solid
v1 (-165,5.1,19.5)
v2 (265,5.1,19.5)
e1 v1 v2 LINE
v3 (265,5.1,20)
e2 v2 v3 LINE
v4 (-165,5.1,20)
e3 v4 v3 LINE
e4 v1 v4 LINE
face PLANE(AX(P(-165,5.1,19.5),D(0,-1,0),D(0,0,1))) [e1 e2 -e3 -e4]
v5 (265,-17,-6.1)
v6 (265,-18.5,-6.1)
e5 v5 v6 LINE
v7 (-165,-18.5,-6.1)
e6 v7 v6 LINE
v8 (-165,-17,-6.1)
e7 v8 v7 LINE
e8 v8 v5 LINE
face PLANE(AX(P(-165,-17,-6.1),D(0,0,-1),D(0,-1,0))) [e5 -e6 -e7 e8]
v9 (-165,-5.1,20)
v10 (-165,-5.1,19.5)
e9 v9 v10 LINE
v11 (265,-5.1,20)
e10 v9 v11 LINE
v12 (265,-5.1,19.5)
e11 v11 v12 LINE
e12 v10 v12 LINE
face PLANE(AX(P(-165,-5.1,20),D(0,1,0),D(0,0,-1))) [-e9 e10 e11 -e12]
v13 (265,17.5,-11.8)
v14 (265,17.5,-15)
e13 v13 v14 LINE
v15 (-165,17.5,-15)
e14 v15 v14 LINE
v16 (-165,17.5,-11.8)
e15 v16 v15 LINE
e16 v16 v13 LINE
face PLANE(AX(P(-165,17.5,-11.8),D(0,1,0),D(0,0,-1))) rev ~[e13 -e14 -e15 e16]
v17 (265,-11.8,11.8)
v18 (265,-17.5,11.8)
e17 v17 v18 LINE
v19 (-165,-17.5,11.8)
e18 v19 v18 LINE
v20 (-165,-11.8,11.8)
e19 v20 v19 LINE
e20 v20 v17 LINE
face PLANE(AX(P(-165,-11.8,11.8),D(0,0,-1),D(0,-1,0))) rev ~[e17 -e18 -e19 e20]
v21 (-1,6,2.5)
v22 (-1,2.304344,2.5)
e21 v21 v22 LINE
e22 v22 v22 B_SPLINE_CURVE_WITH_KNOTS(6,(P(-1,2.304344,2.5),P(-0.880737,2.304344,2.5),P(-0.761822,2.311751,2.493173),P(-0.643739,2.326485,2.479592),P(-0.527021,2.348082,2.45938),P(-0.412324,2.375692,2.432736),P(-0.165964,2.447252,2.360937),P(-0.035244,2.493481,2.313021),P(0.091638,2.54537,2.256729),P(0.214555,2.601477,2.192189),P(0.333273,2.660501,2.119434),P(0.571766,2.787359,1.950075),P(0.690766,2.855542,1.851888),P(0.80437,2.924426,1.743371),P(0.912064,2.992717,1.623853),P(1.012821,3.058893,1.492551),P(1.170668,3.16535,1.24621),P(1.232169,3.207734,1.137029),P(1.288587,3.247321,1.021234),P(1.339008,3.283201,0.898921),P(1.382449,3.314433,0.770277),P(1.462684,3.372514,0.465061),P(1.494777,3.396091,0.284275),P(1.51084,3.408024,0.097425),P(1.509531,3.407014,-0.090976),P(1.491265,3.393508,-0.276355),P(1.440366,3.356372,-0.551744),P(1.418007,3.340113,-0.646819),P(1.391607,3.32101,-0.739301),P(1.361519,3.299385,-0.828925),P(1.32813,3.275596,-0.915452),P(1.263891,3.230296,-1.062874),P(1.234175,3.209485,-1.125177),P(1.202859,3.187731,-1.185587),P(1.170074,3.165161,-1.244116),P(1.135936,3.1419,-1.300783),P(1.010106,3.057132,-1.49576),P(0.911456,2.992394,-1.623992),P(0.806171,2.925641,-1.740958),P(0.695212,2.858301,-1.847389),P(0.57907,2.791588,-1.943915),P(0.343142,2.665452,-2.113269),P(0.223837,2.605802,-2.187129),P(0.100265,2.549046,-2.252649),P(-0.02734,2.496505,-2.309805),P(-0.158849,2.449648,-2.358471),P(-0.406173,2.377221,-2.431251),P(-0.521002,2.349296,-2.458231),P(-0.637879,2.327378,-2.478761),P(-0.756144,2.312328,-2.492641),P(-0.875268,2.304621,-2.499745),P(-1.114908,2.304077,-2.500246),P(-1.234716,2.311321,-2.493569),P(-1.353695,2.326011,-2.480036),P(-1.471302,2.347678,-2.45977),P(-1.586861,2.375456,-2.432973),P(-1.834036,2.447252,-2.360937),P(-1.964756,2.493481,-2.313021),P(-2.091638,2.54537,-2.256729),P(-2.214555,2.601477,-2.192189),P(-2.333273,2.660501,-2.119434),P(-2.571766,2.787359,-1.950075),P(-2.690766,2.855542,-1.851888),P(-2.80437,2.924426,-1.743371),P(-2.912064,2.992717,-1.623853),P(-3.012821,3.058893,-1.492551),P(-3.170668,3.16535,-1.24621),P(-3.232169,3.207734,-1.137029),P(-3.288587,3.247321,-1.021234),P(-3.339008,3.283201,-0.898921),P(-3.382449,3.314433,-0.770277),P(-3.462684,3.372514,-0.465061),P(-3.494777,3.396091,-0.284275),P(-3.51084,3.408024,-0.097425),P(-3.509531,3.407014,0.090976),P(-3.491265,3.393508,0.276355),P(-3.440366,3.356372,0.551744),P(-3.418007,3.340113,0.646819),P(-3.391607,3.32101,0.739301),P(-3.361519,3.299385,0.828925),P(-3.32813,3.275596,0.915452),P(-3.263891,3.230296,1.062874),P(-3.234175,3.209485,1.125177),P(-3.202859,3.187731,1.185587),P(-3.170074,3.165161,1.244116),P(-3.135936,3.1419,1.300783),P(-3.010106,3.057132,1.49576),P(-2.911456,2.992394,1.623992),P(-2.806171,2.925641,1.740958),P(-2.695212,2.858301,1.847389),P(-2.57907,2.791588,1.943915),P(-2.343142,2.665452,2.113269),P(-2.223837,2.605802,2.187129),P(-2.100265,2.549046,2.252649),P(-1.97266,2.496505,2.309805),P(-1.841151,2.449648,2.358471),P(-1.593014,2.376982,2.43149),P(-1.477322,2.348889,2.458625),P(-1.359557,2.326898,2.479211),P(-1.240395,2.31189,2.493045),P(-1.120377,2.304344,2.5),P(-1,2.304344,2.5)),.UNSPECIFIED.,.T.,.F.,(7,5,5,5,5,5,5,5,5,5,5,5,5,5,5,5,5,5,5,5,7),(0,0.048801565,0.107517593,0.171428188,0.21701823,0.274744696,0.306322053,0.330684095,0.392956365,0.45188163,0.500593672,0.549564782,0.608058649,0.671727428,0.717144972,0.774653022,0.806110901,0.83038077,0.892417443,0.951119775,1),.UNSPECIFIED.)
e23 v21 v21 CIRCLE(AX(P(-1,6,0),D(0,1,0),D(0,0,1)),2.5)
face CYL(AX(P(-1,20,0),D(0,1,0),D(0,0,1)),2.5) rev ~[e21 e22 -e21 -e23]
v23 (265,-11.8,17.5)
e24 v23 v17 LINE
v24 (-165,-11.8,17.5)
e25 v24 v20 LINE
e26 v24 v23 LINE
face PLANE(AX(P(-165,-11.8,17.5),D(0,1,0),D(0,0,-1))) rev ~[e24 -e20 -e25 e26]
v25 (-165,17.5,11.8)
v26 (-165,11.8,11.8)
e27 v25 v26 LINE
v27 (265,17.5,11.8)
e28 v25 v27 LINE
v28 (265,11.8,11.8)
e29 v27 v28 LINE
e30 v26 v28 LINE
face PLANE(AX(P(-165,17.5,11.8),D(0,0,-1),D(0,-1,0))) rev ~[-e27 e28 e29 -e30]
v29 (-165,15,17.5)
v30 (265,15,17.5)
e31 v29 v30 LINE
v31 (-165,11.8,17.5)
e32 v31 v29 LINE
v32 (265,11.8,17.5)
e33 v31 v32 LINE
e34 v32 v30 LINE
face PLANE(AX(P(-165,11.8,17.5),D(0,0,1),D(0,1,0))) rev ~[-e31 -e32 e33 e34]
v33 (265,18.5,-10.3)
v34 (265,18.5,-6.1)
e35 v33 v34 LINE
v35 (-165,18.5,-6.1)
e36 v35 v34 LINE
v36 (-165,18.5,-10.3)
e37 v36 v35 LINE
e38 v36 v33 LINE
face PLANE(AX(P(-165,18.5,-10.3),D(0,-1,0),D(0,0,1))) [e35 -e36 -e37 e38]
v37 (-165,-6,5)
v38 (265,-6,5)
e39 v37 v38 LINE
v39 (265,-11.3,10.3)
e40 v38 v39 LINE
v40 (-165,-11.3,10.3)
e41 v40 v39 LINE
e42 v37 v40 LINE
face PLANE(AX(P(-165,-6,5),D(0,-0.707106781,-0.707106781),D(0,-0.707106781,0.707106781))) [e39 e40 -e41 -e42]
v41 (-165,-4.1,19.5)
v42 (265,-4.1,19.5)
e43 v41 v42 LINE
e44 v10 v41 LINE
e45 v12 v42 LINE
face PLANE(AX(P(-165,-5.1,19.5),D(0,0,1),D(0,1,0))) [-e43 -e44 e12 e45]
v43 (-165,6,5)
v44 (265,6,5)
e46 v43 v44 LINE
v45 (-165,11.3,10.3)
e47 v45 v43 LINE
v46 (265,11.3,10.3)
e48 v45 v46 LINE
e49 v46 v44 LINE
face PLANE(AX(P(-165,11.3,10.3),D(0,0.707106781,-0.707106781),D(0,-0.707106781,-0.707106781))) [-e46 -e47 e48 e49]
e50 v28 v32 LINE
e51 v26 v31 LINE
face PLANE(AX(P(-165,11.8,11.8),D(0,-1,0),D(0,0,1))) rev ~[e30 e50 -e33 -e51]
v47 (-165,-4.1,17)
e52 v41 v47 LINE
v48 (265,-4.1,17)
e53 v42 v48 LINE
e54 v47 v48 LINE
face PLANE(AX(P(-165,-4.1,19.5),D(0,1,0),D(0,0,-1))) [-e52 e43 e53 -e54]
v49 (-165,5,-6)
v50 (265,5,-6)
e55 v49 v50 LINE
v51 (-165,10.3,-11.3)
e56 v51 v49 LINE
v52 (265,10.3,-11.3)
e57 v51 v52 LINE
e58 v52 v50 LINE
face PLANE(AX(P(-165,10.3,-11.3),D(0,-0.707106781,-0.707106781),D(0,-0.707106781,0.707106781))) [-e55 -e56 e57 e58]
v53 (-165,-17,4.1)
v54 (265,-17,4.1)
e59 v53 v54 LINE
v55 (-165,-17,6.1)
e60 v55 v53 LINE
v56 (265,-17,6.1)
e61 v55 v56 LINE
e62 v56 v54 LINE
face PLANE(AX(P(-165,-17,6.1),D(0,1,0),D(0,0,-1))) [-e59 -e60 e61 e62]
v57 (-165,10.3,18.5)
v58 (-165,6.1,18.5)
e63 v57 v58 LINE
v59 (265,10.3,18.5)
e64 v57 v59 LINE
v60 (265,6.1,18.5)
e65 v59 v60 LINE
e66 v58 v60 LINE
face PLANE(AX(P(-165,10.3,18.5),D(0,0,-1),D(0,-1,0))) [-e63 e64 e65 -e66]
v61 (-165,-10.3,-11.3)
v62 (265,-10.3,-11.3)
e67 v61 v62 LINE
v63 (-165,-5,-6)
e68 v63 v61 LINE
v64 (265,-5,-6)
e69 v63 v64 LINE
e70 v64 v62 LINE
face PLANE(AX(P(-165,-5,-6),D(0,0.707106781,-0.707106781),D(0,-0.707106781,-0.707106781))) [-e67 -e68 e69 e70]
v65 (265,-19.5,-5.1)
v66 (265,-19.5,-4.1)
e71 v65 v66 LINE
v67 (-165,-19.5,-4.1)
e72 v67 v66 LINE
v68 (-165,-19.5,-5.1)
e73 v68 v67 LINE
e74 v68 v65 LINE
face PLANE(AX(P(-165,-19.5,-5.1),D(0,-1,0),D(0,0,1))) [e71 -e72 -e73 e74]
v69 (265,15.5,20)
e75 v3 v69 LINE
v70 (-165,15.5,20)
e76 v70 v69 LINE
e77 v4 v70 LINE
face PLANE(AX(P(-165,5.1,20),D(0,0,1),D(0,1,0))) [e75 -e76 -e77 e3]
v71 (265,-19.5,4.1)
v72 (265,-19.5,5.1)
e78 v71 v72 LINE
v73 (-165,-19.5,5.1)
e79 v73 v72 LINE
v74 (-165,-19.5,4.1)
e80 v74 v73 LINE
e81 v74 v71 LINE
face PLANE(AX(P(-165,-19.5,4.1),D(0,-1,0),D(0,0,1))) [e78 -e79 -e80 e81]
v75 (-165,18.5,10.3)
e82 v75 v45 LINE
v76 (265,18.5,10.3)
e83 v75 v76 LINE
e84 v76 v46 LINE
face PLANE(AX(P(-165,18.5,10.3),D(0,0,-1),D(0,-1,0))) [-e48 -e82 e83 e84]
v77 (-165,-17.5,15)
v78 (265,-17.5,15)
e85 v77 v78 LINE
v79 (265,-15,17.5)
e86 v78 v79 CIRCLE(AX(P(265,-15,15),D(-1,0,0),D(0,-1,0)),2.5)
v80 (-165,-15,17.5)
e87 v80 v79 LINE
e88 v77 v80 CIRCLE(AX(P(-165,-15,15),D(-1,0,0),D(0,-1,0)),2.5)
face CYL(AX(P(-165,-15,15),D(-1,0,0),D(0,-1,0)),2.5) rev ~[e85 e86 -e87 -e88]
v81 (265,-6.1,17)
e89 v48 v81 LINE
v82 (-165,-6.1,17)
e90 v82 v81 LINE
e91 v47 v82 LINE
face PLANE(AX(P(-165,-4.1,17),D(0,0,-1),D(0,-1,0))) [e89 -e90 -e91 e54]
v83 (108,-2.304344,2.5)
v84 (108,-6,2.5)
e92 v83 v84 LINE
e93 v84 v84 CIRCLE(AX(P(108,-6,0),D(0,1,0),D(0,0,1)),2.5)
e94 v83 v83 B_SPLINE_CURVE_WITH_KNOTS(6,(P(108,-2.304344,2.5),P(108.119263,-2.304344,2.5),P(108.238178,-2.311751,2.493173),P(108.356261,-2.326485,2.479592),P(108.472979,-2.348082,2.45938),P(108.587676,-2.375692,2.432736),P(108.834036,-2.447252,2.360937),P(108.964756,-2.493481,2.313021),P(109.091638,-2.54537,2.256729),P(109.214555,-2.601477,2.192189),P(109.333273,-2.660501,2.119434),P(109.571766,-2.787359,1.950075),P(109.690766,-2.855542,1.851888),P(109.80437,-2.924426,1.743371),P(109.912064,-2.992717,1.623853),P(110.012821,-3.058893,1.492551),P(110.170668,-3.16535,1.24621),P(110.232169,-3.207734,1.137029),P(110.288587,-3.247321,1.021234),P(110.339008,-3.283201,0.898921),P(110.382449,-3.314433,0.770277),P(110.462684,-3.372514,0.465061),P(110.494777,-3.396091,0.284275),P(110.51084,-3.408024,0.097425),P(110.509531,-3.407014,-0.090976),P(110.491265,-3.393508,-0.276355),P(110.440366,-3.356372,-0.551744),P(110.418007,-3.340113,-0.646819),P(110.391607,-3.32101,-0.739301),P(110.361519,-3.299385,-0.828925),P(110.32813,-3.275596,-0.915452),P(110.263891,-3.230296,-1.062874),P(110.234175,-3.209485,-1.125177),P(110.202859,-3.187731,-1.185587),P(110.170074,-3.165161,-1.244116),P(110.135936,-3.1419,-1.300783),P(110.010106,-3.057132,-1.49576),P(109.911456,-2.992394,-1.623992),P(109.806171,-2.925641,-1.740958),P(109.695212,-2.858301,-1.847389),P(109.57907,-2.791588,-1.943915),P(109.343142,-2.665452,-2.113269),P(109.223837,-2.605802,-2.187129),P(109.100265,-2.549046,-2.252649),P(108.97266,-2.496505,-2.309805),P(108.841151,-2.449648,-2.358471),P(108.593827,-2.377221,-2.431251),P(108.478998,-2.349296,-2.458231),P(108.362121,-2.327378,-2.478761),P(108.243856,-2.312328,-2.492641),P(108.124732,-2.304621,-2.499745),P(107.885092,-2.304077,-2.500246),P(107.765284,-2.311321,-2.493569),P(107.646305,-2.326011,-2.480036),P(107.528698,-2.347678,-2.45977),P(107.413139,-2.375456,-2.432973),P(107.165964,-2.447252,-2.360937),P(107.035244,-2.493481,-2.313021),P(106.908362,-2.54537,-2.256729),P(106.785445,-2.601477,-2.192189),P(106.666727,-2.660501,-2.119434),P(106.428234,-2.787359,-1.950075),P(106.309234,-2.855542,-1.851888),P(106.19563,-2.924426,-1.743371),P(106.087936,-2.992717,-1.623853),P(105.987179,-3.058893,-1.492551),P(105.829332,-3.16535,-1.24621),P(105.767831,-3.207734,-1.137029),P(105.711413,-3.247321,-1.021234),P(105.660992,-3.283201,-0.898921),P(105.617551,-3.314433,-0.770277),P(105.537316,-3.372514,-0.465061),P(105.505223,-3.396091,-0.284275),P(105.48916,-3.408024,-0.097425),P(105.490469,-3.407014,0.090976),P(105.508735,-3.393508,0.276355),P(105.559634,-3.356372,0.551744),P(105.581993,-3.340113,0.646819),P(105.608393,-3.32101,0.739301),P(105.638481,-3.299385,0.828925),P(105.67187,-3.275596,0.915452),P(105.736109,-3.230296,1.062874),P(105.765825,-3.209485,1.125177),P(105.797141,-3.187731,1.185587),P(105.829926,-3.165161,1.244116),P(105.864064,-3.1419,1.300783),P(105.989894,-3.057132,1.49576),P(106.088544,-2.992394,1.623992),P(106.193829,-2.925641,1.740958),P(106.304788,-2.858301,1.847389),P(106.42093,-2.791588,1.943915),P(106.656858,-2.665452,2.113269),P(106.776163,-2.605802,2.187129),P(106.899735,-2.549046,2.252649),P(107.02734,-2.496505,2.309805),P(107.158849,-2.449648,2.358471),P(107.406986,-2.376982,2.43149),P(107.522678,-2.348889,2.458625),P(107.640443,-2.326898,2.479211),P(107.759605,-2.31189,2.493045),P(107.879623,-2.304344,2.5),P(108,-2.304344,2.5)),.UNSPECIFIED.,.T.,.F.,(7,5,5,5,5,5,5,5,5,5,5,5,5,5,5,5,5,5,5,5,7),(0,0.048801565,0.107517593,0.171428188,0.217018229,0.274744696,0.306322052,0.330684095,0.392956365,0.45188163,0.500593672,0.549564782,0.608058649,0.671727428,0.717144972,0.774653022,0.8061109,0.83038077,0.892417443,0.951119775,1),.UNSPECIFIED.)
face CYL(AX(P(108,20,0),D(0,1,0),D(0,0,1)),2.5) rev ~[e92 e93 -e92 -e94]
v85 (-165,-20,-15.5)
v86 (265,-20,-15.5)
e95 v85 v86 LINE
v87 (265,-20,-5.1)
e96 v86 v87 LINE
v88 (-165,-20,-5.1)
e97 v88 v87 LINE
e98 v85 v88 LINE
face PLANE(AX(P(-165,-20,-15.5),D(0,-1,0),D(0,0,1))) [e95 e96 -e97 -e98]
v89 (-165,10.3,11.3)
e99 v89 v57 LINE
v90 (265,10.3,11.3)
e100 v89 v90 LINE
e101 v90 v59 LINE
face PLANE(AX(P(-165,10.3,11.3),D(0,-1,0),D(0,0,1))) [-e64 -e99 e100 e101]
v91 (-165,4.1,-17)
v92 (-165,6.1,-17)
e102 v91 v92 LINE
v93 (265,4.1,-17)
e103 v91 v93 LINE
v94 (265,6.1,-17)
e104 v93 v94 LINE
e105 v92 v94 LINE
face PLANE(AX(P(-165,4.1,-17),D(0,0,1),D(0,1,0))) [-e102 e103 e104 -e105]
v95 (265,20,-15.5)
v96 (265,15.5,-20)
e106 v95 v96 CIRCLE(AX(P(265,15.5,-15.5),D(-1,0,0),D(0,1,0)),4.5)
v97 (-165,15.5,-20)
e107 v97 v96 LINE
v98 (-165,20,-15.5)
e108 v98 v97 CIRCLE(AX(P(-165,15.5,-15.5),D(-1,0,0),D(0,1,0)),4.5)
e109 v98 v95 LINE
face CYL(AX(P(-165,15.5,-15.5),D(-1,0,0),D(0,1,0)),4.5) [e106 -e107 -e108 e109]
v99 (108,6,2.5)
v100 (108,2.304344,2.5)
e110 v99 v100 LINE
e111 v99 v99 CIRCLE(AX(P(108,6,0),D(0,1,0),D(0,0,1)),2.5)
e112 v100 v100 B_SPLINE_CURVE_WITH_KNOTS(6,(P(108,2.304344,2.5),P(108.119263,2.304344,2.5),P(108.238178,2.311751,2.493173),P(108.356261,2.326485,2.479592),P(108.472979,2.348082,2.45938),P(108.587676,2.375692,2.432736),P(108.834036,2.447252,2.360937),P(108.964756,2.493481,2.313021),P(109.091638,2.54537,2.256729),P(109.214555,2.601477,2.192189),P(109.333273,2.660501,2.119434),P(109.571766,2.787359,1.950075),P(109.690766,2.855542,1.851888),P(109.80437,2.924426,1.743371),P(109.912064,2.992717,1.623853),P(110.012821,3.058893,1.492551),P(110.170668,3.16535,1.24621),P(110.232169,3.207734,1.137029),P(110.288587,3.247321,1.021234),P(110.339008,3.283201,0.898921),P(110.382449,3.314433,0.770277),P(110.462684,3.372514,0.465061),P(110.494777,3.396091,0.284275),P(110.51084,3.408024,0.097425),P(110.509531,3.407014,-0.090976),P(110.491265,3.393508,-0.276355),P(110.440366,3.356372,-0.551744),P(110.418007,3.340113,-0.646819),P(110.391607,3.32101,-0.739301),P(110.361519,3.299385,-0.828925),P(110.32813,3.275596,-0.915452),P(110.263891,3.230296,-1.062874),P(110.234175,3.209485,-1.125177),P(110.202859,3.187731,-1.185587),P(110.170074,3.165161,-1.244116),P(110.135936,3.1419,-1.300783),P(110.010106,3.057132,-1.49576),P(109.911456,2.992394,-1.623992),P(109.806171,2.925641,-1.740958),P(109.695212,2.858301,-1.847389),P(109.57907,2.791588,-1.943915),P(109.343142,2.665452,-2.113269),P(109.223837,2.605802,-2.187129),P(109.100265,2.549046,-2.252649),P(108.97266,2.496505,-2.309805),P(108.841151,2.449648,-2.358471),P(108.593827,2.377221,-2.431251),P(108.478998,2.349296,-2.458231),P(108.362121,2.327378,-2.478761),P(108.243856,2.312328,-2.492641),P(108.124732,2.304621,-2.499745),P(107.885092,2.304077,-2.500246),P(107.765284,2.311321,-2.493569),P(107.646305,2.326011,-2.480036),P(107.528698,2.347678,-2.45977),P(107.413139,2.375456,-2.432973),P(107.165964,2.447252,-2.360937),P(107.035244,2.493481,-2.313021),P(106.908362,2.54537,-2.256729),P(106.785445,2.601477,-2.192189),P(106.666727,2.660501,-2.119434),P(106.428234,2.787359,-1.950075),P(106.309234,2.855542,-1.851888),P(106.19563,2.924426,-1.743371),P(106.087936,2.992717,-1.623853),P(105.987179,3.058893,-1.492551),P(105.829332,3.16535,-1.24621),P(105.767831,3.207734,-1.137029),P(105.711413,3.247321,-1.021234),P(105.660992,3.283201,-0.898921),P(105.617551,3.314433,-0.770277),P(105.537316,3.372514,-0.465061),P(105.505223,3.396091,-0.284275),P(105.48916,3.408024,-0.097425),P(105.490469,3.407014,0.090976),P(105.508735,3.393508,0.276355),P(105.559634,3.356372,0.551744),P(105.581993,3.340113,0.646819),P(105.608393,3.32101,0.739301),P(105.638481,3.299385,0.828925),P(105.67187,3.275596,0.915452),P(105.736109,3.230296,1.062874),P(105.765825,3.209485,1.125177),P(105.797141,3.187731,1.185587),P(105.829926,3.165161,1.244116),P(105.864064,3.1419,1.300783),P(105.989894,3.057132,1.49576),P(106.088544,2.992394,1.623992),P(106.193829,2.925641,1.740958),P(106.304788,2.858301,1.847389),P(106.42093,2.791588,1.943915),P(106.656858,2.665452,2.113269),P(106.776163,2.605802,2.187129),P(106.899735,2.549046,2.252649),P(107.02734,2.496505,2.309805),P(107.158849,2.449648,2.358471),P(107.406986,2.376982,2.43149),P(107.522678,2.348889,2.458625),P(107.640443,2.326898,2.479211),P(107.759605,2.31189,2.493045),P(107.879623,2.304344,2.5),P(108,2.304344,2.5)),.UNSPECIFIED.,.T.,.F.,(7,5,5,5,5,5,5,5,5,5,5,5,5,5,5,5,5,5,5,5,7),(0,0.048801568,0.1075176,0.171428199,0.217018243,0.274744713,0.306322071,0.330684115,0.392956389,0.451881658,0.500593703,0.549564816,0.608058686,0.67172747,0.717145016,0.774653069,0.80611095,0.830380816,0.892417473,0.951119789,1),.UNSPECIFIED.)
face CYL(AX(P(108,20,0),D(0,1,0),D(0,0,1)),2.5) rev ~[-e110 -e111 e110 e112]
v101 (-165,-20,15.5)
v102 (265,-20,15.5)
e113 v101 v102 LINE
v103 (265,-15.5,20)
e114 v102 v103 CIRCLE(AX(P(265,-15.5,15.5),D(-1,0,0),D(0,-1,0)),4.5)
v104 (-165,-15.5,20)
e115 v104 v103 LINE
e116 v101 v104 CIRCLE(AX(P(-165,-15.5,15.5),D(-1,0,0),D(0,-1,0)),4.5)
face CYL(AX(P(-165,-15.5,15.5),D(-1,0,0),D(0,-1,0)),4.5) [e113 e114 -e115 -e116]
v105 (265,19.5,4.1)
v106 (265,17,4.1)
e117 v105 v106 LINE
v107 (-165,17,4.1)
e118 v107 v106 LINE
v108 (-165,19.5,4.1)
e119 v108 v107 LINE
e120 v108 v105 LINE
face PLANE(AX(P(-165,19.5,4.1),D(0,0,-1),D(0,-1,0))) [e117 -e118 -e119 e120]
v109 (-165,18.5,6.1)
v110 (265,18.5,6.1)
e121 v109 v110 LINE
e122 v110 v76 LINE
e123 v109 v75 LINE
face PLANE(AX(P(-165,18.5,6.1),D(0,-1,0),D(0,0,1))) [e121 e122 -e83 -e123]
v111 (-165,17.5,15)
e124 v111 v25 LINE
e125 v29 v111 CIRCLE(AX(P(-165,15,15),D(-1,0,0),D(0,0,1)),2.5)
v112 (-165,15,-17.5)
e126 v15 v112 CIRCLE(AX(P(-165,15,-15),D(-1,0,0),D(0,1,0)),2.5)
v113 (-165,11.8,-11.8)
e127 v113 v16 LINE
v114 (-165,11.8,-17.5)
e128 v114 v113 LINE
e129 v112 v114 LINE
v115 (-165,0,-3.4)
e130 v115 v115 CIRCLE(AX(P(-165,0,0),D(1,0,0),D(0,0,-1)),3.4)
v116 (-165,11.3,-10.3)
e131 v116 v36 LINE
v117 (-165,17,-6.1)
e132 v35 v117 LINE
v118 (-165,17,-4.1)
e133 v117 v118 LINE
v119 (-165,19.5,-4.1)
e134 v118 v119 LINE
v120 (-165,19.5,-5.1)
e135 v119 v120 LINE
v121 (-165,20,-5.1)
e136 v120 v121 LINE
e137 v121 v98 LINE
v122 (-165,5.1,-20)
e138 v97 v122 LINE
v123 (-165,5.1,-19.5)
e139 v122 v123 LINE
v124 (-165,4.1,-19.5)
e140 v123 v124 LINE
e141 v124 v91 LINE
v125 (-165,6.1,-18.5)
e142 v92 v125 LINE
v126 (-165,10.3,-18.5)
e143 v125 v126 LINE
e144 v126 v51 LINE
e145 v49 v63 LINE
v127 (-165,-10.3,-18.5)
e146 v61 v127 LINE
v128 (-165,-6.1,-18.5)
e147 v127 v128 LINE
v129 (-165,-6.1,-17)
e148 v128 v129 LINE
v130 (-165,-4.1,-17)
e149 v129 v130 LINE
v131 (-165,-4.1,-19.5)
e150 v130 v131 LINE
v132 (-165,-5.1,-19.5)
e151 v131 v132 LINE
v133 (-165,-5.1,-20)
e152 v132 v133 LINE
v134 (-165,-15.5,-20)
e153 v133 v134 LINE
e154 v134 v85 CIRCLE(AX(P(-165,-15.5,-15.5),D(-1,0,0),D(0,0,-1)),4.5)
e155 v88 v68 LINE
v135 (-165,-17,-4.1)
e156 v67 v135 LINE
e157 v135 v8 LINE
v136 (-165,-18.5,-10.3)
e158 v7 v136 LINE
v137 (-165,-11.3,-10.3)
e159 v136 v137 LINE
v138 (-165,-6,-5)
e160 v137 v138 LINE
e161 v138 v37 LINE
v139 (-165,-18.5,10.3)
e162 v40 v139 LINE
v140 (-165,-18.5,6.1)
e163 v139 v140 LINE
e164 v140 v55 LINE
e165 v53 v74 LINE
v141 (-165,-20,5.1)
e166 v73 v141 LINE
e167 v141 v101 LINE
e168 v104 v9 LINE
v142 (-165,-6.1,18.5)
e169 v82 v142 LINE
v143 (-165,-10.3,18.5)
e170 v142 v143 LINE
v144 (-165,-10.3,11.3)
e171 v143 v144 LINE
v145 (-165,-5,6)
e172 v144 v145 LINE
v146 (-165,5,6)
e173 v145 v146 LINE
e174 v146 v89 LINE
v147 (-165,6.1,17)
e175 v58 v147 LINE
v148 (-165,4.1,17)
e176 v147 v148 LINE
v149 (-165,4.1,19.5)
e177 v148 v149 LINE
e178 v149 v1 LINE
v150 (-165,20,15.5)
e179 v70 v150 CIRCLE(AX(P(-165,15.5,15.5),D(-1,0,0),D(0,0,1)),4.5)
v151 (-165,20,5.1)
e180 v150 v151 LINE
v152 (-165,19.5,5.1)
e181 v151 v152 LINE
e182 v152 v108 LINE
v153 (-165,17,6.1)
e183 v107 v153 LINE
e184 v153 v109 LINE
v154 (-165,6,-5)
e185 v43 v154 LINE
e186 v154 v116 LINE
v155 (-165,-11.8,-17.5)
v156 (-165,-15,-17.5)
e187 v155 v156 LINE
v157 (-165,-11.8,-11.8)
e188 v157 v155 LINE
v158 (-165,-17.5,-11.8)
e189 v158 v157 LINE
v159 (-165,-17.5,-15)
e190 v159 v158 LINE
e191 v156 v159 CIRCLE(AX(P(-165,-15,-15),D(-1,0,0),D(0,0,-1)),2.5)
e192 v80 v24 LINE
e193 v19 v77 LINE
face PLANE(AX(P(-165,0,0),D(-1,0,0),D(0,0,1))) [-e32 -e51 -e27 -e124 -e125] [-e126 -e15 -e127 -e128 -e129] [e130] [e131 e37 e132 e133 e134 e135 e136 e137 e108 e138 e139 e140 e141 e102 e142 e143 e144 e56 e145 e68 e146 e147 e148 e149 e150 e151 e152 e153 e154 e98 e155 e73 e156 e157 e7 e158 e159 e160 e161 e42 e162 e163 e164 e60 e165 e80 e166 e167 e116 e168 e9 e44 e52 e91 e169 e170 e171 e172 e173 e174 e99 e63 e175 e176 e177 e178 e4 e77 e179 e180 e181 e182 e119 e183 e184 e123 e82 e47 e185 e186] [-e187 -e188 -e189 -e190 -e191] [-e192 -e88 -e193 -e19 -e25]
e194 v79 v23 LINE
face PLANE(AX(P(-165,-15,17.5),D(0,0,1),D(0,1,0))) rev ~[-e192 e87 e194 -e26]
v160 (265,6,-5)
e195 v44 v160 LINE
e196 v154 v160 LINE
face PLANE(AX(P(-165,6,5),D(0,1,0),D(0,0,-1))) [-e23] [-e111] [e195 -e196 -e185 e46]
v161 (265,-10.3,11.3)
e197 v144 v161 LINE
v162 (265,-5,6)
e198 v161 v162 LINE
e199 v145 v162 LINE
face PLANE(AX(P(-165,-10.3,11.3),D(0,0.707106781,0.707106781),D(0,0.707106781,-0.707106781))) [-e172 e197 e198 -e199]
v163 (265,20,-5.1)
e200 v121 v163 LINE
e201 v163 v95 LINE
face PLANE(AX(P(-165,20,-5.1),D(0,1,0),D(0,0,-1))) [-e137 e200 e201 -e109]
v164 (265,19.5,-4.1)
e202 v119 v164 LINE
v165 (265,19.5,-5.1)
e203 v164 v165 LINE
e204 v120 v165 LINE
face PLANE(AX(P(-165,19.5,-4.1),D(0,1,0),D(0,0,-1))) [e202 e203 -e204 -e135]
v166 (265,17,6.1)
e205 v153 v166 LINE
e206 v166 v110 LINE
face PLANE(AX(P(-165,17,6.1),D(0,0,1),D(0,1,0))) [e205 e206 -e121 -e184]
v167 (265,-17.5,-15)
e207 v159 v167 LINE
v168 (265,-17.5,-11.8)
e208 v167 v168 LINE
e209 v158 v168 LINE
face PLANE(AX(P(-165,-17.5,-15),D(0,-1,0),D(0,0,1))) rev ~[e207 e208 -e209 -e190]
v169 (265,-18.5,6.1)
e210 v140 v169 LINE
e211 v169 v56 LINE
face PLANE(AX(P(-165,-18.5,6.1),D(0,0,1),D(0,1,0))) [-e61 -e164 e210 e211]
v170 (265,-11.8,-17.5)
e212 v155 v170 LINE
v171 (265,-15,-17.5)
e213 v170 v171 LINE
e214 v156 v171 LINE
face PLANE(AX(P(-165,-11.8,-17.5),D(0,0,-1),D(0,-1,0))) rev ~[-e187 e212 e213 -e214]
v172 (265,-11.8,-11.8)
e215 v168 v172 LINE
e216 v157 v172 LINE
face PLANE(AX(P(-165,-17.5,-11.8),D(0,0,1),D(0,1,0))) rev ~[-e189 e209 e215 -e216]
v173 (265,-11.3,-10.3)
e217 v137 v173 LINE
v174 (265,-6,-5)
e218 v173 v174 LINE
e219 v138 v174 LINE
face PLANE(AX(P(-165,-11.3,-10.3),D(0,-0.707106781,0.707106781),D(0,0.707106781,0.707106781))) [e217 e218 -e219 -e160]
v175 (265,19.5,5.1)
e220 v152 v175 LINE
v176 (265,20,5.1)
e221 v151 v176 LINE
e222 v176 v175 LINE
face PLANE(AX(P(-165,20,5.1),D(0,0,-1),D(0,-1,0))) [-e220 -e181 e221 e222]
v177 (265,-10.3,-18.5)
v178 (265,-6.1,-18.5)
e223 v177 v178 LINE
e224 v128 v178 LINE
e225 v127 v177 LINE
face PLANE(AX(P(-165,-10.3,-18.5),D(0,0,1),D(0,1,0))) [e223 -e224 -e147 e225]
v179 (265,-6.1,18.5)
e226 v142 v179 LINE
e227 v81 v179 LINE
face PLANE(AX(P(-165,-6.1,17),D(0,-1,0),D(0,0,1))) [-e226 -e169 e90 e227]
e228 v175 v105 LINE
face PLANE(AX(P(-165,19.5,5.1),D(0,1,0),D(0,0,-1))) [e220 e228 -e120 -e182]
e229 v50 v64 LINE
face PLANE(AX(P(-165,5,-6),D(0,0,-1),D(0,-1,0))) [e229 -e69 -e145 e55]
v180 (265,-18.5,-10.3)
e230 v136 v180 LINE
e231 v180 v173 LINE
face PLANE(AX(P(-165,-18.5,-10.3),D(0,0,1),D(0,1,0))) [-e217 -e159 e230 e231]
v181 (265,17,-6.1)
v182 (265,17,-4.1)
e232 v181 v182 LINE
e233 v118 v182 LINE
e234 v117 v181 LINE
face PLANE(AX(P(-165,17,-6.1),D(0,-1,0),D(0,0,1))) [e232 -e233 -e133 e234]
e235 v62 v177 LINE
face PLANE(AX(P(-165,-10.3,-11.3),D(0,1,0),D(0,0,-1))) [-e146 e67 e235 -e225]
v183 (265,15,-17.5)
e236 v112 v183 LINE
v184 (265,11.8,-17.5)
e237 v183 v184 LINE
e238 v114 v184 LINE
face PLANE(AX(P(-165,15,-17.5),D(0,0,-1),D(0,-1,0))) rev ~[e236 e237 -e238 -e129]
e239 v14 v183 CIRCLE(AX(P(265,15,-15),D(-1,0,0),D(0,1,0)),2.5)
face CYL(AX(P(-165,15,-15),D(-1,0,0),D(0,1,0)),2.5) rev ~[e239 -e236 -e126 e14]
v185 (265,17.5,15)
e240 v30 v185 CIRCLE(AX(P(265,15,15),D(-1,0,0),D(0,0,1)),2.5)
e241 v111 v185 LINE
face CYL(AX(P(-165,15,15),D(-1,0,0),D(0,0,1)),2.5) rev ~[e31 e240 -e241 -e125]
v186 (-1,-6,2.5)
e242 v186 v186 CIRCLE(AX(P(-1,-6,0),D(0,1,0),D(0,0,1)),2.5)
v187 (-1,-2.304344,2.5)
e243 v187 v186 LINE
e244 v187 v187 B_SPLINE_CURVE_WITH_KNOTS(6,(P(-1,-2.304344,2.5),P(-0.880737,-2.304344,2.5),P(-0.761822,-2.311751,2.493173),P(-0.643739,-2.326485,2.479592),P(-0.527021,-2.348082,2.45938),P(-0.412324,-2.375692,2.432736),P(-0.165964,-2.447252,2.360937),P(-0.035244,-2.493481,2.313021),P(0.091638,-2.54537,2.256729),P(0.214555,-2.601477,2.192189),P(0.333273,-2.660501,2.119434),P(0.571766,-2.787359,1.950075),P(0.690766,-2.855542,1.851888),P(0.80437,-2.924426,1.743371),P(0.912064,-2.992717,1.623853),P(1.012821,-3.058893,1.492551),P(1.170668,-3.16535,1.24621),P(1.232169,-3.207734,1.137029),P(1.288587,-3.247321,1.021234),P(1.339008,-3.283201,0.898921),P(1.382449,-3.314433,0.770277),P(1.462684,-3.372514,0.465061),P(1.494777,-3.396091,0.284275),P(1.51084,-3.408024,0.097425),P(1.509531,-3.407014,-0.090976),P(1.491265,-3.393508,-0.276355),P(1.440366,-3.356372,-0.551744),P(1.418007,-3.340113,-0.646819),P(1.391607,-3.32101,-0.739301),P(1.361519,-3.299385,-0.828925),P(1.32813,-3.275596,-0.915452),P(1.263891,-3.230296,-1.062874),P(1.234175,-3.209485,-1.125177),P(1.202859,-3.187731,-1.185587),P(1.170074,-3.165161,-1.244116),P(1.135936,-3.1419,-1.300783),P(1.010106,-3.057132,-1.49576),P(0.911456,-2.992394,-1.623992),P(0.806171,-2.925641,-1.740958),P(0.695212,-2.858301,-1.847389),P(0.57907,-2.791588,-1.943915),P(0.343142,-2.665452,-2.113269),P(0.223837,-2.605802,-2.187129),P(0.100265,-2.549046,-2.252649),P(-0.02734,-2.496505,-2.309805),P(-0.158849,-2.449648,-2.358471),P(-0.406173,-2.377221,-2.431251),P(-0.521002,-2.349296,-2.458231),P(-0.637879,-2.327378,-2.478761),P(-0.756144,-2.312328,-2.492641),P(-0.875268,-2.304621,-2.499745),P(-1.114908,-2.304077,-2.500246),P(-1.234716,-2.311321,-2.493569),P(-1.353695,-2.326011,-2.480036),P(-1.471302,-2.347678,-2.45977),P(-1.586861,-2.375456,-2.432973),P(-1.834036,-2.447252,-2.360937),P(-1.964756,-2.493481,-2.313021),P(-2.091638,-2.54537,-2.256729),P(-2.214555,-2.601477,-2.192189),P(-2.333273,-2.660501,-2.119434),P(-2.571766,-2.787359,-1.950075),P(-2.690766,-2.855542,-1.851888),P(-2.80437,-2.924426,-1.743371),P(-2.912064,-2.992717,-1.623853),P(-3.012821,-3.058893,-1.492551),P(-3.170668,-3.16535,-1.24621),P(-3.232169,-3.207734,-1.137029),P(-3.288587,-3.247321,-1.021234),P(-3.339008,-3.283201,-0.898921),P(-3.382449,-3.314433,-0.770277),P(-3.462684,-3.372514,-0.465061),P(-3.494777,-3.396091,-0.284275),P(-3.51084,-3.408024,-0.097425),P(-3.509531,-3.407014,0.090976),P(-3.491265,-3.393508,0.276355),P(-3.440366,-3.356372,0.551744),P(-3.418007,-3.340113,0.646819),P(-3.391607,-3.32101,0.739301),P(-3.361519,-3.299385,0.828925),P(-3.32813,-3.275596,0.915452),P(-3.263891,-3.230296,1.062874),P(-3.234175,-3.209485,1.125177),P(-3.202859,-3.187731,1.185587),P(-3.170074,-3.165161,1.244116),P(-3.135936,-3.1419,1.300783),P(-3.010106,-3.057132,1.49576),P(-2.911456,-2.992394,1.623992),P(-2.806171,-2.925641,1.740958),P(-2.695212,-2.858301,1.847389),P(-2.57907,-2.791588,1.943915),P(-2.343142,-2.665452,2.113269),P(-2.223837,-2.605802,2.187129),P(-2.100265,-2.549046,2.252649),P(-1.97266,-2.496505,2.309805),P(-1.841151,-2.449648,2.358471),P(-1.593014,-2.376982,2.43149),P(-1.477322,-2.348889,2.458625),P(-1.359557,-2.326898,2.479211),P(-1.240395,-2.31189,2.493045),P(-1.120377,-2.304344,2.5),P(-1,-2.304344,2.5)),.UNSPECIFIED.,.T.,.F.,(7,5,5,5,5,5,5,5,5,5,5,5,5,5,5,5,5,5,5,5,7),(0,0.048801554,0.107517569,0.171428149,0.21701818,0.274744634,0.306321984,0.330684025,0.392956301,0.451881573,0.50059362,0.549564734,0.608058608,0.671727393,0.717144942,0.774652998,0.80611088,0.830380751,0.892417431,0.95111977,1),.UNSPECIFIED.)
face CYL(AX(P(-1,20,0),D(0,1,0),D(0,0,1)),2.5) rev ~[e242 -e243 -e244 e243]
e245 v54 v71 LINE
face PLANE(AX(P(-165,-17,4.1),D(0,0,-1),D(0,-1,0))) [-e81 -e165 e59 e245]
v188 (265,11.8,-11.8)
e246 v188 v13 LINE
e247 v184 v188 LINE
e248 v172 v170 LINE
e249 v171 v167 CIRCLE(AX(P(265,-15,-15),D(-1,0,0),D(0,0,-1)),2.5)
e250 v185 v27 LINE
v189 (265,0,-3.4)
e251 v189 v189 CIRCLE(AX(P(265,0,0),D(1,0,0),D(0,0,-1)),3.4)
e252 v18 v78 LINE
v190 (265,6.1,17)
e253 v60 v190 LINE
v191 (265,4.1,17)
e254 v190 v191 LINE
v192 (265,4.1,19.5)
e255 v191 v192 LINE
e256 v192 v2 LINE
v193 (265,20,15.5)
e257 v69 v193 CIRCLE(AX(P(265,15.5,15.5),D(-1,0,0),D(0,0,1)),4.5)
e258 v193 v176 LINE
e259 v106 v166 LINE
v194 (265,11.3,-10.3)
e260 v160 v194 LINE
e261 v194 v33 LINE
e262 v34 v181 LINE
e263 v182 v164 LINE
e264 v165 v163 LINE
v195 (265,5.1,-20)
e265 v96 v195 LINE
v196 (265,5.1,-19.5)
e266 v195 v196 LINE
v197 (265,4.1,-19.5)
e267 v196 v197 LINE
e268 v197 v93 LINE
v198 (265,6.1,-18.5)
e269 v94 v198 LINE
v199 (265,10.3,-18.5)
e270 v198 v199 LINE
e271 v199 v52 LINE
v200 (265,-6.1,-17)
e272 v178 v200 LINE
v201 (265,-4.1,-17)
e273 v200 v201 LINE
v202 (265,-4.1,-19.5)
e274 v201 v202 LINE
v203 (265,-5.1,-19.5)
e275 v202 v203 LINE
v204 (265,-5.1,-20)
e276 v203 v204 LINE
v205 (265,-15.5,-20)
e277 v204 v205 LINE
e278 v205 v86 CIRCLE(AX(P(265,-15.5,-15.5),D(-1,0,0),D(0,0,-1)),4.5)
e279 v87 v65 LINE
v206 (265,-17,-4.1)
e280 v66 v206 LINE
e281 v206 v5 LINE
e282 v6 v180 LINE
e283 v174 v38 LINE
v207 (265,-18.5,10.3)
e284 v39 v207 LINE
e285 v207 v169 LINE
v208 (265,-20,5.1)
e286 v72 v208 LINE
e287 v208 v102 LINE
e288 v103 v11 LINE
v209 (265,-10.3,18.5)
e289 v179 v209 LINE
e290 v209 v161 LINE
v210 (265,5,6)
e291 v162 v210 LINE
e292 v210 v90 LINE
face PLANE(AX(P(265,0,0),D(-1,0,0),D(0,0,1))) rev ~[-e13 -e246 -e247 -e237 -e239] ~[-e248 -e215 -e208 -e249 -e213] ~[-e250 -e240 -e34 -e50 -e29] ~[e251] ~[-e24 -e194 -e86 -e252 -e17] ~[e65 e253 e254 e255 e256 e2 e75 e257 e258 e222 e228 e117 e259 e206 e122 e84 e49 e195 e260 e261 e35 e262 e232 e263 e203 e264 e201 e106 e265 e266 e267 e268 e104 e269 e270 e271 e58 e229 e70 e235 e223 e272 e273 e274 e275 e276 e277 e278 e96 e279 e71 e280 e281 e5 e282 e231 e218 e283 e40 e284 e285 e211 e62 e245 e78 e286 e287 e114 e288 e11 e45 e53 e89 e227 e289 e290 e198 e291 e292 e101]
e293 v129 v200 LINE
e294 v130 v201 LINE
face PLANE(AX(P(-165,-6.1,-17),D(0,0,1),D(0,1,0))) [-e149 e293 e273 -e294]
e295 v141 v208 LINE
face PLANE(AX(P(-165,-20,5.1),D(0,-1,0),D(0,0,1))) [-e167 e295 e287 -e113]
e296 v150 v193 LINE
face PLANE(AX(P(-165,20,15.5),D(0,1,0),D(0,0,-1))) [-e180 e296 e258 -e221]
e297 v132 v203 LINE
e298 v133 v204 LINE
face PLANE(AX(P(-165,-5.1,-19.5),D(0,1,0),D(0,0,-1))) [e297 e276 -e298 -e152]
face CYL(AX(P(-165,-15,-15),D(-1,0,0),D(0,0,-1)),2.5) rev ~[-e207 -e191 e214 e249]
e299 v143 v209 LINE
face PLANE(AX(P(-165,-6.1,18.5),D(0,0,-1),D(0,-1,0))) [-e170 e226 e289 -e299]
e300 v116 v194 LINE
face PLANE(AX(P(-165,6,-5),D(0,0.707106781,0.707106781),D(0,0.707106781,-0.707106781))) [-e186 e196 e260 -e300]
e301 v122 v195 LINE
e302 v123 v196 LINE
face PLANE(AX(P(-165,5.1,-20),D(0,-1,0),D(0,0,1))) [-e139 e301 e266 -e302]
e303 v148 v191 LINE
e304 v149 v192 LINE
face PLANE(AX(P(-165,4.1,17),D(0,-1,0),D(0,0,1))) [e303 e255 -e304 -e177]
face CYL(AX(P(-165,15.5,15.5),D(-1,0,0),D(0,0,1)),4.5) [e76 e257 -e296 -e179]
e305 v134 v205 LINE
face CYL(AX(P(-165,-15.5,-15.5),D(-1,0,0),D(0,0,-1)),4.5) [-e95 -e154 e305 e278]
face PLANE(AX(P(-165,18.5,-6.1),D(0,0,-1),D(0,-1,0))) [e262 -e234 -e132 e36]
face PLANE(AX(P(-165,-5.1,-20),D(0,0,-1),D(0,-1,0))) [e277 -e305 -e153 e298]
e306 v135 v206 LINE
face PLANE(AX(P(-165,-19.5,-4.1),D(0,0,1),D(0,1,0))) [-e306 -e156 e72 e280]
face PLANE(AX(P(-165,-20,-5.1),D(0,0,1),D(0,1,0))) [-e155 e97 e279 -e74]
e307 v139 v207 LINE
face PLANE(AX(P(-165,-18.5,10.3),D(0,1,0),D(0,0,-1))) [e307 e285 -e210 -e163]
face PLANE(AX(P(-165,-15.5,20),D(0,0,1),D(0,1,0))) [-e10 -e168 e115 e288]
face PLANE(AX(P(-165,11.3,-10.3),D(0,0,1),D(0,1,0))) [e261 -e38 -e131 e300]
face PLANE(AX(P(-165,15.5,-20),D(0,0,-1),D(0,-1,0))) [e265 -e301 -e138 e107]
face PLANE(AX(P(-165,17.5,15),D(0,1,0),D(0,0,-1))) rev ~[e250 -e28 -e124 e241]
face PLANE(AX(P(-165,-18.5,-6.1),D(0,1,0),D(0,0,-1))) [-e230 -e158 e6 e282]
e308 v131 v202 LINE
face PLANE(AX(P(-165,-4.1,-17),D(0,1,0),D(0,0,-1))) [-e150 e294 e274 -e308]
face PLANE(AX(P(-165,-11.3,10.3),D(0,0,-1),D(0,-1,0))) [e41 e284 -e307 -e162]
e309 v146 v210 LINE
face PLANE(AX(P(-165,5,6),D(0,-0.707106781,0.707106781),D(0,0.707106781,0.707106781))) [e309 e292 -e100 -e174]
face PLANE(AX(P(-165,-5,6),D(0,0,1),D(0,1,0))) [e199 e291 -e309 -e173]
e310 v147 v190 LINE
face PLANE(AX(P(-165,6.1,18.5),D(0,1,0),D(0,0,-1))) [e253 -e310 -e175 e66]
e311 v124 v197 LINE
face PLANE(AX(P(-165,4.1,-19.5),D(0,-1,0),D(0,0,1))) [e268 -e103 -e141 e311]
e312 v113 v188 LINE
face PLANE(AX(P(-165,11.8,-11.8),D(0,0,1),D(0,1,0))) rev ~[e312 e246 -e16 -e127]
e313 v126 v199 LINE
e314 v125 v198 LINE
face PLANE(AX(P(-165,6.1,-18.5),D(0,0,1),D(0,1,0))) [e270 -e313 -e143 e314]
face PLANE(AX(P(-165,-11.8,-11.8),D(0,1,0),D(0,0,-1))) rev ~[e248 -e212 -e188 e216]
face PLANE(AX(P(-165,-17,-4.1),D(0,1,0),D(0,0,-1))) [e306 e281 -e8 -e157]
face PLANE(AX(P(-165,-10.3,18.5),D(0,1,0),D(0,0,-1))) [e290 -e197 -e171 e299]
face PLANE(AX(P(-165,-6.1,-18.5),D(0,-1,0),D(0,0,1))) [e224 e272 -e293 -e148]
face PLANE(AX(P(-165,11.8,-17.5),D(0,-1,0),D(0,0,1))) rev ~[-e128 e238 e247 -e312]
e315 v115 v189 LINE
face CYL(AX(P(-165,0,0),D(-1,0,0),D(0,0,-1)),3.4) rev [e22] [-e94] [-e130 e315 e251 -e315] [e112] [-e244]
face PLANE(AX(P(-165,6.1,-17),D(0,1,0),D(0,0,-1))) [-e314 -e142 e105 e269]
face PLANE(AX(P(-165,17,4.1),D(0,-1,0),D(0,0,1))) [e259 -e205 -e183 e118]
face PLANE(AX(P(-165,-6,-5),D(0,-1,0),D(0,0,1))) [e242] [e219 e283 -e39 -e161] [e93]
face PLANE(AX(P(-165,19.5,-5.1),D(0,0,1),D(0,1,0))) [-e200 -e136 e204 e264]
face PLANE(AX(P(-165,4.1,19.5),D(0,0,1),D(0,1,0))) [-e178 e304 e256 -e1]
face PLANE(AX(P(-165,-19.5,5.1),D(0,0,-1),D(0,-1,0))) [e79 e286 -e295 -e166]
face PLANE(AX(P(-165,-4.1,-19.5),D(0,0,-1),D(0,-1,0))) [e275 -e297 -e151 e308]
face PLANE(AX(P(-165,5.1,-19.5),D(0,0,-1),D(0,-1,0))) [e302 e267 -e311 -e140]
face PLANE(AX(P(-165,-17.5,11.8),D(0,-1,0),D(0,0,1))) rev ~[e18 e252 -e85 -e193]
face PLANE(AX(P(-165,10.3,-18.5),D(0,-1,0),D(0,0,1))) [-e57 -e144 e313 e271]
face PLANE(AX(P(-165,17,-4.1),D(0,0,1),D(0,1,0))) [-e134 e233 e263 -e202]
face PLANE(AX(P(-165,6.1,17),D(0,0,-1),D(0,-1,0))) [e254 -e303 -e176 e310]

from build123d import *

# Parameters (mm, degrees)
SKETCH1_R                 = 3.4
F_40_X_40L_X_R4_5_1_DEPTH = 430
SKETCH_2_R                = 2.5
CUT_EXTRUDE_1_DEPTH       = 269.747093008


with BuildPart() as part:
    # Sketch1 → 铝型材 40 X 40L X R4.5(1) (new body)
    with BuildSketch(Plane(origin=(-165, 0, 0), x_dir=(0, 0, -1), z_dir=(1, 0, 0))):
        with BuildLine():
            Line((-5.1, 20), (-5.1, 19.5))
            Line((-5.1, 19.5), (-4.1, 19.5))
            Line((-4.1, 19.5), (-4.1, 17))
            Line((-4.1, 17), (-6.1, 17))
            Line((-6.1, 17), (-6.1, 18.5))
            Line((-6.1, 18.5), (-10.3, 18.5))
            Line((-10.3, 18.5), (-10.3, 11.3))
            Line((-10.3, 11.3), (-5, 6))
            Line((-5, 6), (5, 6))
            Line((5, 6), (10.3, 11.3))
            Line((10.3, 11.3), (10.3, 18.5))
            Line((10.3, 18.5), (6.1, 18.5))
            Line((6.1, 18.5), (6.1, 17))
            Line((6.1, 17), (4.1, 17))
            Line((4.1, 17), (4.1, 19.5))
            Line((4.1, 19.5), (5.1, 19.5))
            Line((5.1, 19.5), (5.1, 20))
            Line((5.1, 20), (15.5, 20))
            ThreePointArc((15.5, 20), (18.681980515, 18.681980515), (20, 15.5))
            Line((20, 15.5), (20, 5.1))
            Line((20, 5.1), (19.5, 5.1))
            Line((19.5, 5.1), (19.5, 4.1))
            Line((19.5, 4.1), (17, 4.1))
            Line((17, 4.1), (17, 6.1))
            Line((17, 6.1), (18.5, 6.1))
            Line((18.5, 6.1), (18.5, 10.3))
            Line((18.5, 10.3), (11.3, 10.3))
            Line((11.3, 10.3), (6, 5))
            Line((6, 5), (6, -5))
            Line((6, -5), (11.3, -10.3))
            Line((11.3, -10.3), (18.5, -10.3))
            Line((18.5, -10.3), (18.5, -6.1))
            Line((18.5, -6.1), (17, -6.1))
            Line((17, -6.1), (17, -4.1))
            Line((17, -4.1), (19.5, -4.1))
            Line((19.5, -4.1), (19.5, -5.1))
            Line((19.5, -5.1), (20, -5.1))
            Line((20, -5.1), (20, -15.5))
            ThreePointArc((20, -15.5), (18.681980515, -18.681980515), (15.5, -20))
            Line((15.5, -20), (5.1, -20))
            Line((5.1, -20), (5.1, -19.5))
            Line((5.1, -19.5), (4.1, -19.5))
            Line((4.1, -19.5), (4.1, -17))
            Line((4.1, -17), (6.1, -17))
            Line((6.1, -17), (6.1, -18.5))
            Line((6.1, -18.5), (10.3, -18.5))
            Line((10.3, -18.5), (10.3, -11.3))
            Line((10.3, -11.3), (5, -6))
            Line((5, -6), (-5, -6))
            Line((-5, -6), (-10.3, -11.3))
            Line((-10.3, -11.3), (-10.3, -18.5))
            Line((-10.3, -18.5), (-6.1, -18.5))
            Line((-6.1, -18.5), (-6.1, -17))
            Line((-6.1, -17), (-4.1, -17))
            Line((-4.1, -17), (-4.1, -19.5))
            Line((-4.1, -19.5), (-5.1, -19.5))
            Line((-5.1, -19.5), (-5.1, -20))
            Line((-5.1, -20), (-15.5, -20))
            ThreePointArc((-15.5, -20), (-18.681980515, -18.681980515), (-20, -15.5))
            Line((-20, -15.5), (-20, -5.1))
            Line((-20, -5.1), (-19.5, -5.1))
            Line((-19.5, -5.1), (-19.5, -4.1))
            Line((-19.5, -4.1), (-17, -4.1))
            Line((-17, -4.1), (-17, -6.1))
            Line((-17, -6.1), (-18.5, -6.1))
            Line((-18.5, -6.1), (-18.5, -10.3))
            Line((-18.5, -10.3), (-11.3, -10.3))
            Line((-11.3, -10.3), (-6, -5))
            Line((-6, -5), (-6, 5))
            Line((-6, 5), (-11.3, 10.3))
            Line((-11.3, 10.3), (-18.5, 10.3))
            Line((-18.5, 10.3), (-18.5, 6.1))
            Line((-18.5, 6.1), (-17, 6.1))
            Line((-17, 6.1), (-17, 4.1))
            Line((-17, 4.1), (-19.5, 4.1))
            Line((-19.5, 4.1), (-19.5, 5.1))
            Line((-19.5, 5.1), (-20, 5.1))
            Line((-20, 5.1), (-20, 15.5))
            ThreePointArc((-20, 15.5), (-18.681980515, 18.681980515), (-15.5, 20))
            Line((-15.5, 20), (-5.1, 20))
        make_face()
        Circle(SKETCH1_R, mode=Mode.SUBTRACT)
        with BuildLine():
            Line((11.8, 17.5), (15, 17.5))
            ThreePointArc((15, 17.5), (16.767766953, 16.767766953), (17.5, 15))
            Line((17.5, 15), (17.5, 11.8))
            Line((17.5, 11.8), (11.8, 11.8))
            Line((11.8, 11.8), (11.8, 17.5))
        make_face(mode=Mode.SUBTRACT)
        with BuildLine():
            Line((-15, 17.5), (-11.8, 17.5))
            Line((-11.8, 17.5), (-11.8, 11.8))
            Line((-11.8, 11.8), (-17.5, 11.8))
            Line((-17.5, 11.8), (-17.5, 15))
            ThreePointArc((-17.5, 15), (-16.767766953, 16.767766953), (-15, 17.5))
        make_face(mode=Mode.SUBTRACT)
        with BuildLine():
            Line((-17.5, -11.8), (-11.8, -11.8))
            Line((-11.8, -11.8), (-11.8, -17.5))
            Line((-11.8, -17.5), (-15, -17.5))
            ThreePointArc((-15, -17.5), (-16.767766953, -16.767766953), (-17.5, -15))
            Line((-17.5, -15), (-17.5, -11.8))
        make_face(mode=Mode.SUBTRACT)
        with BuildLine():
            Line((11.8, -11.8), (17.5, -11.8))
            Line((17.5, -11.8), (17.5, -15))
            ThreePointArc((17.5, -15), (16.767766953, -16.767766953), (15, -17.5))
            Line((15, -17.5), (11.8, -17.5))
            Line((11.8, -17.5), (11.8, -11.8))
        make_face(mode=Mode.SUBTRACT)
    extrude(amount=F_40_X_40L_X_R4_5_1_DEPTH)

    # 草图2 → 切除-拉伸1 (cut, through all)
    with BuildSketch(Plane(origin=(0, 20, 0), x_dir=(1, 0, 0), z_dir=(0, 1, 0))):
        with Locations(Location((-1, 0, 0), (0, 0, 270))):
            Circle(SKETCH_2_R)
        with Locations(Location((108, 0, 0), (0, 0, 270))):
            Circle(SKETCH_2_R)
    extrude(amount=-CUT_EXTRUDE_1_DEPTH, mode=Mode.SUBTRACT)


solid = part.part
